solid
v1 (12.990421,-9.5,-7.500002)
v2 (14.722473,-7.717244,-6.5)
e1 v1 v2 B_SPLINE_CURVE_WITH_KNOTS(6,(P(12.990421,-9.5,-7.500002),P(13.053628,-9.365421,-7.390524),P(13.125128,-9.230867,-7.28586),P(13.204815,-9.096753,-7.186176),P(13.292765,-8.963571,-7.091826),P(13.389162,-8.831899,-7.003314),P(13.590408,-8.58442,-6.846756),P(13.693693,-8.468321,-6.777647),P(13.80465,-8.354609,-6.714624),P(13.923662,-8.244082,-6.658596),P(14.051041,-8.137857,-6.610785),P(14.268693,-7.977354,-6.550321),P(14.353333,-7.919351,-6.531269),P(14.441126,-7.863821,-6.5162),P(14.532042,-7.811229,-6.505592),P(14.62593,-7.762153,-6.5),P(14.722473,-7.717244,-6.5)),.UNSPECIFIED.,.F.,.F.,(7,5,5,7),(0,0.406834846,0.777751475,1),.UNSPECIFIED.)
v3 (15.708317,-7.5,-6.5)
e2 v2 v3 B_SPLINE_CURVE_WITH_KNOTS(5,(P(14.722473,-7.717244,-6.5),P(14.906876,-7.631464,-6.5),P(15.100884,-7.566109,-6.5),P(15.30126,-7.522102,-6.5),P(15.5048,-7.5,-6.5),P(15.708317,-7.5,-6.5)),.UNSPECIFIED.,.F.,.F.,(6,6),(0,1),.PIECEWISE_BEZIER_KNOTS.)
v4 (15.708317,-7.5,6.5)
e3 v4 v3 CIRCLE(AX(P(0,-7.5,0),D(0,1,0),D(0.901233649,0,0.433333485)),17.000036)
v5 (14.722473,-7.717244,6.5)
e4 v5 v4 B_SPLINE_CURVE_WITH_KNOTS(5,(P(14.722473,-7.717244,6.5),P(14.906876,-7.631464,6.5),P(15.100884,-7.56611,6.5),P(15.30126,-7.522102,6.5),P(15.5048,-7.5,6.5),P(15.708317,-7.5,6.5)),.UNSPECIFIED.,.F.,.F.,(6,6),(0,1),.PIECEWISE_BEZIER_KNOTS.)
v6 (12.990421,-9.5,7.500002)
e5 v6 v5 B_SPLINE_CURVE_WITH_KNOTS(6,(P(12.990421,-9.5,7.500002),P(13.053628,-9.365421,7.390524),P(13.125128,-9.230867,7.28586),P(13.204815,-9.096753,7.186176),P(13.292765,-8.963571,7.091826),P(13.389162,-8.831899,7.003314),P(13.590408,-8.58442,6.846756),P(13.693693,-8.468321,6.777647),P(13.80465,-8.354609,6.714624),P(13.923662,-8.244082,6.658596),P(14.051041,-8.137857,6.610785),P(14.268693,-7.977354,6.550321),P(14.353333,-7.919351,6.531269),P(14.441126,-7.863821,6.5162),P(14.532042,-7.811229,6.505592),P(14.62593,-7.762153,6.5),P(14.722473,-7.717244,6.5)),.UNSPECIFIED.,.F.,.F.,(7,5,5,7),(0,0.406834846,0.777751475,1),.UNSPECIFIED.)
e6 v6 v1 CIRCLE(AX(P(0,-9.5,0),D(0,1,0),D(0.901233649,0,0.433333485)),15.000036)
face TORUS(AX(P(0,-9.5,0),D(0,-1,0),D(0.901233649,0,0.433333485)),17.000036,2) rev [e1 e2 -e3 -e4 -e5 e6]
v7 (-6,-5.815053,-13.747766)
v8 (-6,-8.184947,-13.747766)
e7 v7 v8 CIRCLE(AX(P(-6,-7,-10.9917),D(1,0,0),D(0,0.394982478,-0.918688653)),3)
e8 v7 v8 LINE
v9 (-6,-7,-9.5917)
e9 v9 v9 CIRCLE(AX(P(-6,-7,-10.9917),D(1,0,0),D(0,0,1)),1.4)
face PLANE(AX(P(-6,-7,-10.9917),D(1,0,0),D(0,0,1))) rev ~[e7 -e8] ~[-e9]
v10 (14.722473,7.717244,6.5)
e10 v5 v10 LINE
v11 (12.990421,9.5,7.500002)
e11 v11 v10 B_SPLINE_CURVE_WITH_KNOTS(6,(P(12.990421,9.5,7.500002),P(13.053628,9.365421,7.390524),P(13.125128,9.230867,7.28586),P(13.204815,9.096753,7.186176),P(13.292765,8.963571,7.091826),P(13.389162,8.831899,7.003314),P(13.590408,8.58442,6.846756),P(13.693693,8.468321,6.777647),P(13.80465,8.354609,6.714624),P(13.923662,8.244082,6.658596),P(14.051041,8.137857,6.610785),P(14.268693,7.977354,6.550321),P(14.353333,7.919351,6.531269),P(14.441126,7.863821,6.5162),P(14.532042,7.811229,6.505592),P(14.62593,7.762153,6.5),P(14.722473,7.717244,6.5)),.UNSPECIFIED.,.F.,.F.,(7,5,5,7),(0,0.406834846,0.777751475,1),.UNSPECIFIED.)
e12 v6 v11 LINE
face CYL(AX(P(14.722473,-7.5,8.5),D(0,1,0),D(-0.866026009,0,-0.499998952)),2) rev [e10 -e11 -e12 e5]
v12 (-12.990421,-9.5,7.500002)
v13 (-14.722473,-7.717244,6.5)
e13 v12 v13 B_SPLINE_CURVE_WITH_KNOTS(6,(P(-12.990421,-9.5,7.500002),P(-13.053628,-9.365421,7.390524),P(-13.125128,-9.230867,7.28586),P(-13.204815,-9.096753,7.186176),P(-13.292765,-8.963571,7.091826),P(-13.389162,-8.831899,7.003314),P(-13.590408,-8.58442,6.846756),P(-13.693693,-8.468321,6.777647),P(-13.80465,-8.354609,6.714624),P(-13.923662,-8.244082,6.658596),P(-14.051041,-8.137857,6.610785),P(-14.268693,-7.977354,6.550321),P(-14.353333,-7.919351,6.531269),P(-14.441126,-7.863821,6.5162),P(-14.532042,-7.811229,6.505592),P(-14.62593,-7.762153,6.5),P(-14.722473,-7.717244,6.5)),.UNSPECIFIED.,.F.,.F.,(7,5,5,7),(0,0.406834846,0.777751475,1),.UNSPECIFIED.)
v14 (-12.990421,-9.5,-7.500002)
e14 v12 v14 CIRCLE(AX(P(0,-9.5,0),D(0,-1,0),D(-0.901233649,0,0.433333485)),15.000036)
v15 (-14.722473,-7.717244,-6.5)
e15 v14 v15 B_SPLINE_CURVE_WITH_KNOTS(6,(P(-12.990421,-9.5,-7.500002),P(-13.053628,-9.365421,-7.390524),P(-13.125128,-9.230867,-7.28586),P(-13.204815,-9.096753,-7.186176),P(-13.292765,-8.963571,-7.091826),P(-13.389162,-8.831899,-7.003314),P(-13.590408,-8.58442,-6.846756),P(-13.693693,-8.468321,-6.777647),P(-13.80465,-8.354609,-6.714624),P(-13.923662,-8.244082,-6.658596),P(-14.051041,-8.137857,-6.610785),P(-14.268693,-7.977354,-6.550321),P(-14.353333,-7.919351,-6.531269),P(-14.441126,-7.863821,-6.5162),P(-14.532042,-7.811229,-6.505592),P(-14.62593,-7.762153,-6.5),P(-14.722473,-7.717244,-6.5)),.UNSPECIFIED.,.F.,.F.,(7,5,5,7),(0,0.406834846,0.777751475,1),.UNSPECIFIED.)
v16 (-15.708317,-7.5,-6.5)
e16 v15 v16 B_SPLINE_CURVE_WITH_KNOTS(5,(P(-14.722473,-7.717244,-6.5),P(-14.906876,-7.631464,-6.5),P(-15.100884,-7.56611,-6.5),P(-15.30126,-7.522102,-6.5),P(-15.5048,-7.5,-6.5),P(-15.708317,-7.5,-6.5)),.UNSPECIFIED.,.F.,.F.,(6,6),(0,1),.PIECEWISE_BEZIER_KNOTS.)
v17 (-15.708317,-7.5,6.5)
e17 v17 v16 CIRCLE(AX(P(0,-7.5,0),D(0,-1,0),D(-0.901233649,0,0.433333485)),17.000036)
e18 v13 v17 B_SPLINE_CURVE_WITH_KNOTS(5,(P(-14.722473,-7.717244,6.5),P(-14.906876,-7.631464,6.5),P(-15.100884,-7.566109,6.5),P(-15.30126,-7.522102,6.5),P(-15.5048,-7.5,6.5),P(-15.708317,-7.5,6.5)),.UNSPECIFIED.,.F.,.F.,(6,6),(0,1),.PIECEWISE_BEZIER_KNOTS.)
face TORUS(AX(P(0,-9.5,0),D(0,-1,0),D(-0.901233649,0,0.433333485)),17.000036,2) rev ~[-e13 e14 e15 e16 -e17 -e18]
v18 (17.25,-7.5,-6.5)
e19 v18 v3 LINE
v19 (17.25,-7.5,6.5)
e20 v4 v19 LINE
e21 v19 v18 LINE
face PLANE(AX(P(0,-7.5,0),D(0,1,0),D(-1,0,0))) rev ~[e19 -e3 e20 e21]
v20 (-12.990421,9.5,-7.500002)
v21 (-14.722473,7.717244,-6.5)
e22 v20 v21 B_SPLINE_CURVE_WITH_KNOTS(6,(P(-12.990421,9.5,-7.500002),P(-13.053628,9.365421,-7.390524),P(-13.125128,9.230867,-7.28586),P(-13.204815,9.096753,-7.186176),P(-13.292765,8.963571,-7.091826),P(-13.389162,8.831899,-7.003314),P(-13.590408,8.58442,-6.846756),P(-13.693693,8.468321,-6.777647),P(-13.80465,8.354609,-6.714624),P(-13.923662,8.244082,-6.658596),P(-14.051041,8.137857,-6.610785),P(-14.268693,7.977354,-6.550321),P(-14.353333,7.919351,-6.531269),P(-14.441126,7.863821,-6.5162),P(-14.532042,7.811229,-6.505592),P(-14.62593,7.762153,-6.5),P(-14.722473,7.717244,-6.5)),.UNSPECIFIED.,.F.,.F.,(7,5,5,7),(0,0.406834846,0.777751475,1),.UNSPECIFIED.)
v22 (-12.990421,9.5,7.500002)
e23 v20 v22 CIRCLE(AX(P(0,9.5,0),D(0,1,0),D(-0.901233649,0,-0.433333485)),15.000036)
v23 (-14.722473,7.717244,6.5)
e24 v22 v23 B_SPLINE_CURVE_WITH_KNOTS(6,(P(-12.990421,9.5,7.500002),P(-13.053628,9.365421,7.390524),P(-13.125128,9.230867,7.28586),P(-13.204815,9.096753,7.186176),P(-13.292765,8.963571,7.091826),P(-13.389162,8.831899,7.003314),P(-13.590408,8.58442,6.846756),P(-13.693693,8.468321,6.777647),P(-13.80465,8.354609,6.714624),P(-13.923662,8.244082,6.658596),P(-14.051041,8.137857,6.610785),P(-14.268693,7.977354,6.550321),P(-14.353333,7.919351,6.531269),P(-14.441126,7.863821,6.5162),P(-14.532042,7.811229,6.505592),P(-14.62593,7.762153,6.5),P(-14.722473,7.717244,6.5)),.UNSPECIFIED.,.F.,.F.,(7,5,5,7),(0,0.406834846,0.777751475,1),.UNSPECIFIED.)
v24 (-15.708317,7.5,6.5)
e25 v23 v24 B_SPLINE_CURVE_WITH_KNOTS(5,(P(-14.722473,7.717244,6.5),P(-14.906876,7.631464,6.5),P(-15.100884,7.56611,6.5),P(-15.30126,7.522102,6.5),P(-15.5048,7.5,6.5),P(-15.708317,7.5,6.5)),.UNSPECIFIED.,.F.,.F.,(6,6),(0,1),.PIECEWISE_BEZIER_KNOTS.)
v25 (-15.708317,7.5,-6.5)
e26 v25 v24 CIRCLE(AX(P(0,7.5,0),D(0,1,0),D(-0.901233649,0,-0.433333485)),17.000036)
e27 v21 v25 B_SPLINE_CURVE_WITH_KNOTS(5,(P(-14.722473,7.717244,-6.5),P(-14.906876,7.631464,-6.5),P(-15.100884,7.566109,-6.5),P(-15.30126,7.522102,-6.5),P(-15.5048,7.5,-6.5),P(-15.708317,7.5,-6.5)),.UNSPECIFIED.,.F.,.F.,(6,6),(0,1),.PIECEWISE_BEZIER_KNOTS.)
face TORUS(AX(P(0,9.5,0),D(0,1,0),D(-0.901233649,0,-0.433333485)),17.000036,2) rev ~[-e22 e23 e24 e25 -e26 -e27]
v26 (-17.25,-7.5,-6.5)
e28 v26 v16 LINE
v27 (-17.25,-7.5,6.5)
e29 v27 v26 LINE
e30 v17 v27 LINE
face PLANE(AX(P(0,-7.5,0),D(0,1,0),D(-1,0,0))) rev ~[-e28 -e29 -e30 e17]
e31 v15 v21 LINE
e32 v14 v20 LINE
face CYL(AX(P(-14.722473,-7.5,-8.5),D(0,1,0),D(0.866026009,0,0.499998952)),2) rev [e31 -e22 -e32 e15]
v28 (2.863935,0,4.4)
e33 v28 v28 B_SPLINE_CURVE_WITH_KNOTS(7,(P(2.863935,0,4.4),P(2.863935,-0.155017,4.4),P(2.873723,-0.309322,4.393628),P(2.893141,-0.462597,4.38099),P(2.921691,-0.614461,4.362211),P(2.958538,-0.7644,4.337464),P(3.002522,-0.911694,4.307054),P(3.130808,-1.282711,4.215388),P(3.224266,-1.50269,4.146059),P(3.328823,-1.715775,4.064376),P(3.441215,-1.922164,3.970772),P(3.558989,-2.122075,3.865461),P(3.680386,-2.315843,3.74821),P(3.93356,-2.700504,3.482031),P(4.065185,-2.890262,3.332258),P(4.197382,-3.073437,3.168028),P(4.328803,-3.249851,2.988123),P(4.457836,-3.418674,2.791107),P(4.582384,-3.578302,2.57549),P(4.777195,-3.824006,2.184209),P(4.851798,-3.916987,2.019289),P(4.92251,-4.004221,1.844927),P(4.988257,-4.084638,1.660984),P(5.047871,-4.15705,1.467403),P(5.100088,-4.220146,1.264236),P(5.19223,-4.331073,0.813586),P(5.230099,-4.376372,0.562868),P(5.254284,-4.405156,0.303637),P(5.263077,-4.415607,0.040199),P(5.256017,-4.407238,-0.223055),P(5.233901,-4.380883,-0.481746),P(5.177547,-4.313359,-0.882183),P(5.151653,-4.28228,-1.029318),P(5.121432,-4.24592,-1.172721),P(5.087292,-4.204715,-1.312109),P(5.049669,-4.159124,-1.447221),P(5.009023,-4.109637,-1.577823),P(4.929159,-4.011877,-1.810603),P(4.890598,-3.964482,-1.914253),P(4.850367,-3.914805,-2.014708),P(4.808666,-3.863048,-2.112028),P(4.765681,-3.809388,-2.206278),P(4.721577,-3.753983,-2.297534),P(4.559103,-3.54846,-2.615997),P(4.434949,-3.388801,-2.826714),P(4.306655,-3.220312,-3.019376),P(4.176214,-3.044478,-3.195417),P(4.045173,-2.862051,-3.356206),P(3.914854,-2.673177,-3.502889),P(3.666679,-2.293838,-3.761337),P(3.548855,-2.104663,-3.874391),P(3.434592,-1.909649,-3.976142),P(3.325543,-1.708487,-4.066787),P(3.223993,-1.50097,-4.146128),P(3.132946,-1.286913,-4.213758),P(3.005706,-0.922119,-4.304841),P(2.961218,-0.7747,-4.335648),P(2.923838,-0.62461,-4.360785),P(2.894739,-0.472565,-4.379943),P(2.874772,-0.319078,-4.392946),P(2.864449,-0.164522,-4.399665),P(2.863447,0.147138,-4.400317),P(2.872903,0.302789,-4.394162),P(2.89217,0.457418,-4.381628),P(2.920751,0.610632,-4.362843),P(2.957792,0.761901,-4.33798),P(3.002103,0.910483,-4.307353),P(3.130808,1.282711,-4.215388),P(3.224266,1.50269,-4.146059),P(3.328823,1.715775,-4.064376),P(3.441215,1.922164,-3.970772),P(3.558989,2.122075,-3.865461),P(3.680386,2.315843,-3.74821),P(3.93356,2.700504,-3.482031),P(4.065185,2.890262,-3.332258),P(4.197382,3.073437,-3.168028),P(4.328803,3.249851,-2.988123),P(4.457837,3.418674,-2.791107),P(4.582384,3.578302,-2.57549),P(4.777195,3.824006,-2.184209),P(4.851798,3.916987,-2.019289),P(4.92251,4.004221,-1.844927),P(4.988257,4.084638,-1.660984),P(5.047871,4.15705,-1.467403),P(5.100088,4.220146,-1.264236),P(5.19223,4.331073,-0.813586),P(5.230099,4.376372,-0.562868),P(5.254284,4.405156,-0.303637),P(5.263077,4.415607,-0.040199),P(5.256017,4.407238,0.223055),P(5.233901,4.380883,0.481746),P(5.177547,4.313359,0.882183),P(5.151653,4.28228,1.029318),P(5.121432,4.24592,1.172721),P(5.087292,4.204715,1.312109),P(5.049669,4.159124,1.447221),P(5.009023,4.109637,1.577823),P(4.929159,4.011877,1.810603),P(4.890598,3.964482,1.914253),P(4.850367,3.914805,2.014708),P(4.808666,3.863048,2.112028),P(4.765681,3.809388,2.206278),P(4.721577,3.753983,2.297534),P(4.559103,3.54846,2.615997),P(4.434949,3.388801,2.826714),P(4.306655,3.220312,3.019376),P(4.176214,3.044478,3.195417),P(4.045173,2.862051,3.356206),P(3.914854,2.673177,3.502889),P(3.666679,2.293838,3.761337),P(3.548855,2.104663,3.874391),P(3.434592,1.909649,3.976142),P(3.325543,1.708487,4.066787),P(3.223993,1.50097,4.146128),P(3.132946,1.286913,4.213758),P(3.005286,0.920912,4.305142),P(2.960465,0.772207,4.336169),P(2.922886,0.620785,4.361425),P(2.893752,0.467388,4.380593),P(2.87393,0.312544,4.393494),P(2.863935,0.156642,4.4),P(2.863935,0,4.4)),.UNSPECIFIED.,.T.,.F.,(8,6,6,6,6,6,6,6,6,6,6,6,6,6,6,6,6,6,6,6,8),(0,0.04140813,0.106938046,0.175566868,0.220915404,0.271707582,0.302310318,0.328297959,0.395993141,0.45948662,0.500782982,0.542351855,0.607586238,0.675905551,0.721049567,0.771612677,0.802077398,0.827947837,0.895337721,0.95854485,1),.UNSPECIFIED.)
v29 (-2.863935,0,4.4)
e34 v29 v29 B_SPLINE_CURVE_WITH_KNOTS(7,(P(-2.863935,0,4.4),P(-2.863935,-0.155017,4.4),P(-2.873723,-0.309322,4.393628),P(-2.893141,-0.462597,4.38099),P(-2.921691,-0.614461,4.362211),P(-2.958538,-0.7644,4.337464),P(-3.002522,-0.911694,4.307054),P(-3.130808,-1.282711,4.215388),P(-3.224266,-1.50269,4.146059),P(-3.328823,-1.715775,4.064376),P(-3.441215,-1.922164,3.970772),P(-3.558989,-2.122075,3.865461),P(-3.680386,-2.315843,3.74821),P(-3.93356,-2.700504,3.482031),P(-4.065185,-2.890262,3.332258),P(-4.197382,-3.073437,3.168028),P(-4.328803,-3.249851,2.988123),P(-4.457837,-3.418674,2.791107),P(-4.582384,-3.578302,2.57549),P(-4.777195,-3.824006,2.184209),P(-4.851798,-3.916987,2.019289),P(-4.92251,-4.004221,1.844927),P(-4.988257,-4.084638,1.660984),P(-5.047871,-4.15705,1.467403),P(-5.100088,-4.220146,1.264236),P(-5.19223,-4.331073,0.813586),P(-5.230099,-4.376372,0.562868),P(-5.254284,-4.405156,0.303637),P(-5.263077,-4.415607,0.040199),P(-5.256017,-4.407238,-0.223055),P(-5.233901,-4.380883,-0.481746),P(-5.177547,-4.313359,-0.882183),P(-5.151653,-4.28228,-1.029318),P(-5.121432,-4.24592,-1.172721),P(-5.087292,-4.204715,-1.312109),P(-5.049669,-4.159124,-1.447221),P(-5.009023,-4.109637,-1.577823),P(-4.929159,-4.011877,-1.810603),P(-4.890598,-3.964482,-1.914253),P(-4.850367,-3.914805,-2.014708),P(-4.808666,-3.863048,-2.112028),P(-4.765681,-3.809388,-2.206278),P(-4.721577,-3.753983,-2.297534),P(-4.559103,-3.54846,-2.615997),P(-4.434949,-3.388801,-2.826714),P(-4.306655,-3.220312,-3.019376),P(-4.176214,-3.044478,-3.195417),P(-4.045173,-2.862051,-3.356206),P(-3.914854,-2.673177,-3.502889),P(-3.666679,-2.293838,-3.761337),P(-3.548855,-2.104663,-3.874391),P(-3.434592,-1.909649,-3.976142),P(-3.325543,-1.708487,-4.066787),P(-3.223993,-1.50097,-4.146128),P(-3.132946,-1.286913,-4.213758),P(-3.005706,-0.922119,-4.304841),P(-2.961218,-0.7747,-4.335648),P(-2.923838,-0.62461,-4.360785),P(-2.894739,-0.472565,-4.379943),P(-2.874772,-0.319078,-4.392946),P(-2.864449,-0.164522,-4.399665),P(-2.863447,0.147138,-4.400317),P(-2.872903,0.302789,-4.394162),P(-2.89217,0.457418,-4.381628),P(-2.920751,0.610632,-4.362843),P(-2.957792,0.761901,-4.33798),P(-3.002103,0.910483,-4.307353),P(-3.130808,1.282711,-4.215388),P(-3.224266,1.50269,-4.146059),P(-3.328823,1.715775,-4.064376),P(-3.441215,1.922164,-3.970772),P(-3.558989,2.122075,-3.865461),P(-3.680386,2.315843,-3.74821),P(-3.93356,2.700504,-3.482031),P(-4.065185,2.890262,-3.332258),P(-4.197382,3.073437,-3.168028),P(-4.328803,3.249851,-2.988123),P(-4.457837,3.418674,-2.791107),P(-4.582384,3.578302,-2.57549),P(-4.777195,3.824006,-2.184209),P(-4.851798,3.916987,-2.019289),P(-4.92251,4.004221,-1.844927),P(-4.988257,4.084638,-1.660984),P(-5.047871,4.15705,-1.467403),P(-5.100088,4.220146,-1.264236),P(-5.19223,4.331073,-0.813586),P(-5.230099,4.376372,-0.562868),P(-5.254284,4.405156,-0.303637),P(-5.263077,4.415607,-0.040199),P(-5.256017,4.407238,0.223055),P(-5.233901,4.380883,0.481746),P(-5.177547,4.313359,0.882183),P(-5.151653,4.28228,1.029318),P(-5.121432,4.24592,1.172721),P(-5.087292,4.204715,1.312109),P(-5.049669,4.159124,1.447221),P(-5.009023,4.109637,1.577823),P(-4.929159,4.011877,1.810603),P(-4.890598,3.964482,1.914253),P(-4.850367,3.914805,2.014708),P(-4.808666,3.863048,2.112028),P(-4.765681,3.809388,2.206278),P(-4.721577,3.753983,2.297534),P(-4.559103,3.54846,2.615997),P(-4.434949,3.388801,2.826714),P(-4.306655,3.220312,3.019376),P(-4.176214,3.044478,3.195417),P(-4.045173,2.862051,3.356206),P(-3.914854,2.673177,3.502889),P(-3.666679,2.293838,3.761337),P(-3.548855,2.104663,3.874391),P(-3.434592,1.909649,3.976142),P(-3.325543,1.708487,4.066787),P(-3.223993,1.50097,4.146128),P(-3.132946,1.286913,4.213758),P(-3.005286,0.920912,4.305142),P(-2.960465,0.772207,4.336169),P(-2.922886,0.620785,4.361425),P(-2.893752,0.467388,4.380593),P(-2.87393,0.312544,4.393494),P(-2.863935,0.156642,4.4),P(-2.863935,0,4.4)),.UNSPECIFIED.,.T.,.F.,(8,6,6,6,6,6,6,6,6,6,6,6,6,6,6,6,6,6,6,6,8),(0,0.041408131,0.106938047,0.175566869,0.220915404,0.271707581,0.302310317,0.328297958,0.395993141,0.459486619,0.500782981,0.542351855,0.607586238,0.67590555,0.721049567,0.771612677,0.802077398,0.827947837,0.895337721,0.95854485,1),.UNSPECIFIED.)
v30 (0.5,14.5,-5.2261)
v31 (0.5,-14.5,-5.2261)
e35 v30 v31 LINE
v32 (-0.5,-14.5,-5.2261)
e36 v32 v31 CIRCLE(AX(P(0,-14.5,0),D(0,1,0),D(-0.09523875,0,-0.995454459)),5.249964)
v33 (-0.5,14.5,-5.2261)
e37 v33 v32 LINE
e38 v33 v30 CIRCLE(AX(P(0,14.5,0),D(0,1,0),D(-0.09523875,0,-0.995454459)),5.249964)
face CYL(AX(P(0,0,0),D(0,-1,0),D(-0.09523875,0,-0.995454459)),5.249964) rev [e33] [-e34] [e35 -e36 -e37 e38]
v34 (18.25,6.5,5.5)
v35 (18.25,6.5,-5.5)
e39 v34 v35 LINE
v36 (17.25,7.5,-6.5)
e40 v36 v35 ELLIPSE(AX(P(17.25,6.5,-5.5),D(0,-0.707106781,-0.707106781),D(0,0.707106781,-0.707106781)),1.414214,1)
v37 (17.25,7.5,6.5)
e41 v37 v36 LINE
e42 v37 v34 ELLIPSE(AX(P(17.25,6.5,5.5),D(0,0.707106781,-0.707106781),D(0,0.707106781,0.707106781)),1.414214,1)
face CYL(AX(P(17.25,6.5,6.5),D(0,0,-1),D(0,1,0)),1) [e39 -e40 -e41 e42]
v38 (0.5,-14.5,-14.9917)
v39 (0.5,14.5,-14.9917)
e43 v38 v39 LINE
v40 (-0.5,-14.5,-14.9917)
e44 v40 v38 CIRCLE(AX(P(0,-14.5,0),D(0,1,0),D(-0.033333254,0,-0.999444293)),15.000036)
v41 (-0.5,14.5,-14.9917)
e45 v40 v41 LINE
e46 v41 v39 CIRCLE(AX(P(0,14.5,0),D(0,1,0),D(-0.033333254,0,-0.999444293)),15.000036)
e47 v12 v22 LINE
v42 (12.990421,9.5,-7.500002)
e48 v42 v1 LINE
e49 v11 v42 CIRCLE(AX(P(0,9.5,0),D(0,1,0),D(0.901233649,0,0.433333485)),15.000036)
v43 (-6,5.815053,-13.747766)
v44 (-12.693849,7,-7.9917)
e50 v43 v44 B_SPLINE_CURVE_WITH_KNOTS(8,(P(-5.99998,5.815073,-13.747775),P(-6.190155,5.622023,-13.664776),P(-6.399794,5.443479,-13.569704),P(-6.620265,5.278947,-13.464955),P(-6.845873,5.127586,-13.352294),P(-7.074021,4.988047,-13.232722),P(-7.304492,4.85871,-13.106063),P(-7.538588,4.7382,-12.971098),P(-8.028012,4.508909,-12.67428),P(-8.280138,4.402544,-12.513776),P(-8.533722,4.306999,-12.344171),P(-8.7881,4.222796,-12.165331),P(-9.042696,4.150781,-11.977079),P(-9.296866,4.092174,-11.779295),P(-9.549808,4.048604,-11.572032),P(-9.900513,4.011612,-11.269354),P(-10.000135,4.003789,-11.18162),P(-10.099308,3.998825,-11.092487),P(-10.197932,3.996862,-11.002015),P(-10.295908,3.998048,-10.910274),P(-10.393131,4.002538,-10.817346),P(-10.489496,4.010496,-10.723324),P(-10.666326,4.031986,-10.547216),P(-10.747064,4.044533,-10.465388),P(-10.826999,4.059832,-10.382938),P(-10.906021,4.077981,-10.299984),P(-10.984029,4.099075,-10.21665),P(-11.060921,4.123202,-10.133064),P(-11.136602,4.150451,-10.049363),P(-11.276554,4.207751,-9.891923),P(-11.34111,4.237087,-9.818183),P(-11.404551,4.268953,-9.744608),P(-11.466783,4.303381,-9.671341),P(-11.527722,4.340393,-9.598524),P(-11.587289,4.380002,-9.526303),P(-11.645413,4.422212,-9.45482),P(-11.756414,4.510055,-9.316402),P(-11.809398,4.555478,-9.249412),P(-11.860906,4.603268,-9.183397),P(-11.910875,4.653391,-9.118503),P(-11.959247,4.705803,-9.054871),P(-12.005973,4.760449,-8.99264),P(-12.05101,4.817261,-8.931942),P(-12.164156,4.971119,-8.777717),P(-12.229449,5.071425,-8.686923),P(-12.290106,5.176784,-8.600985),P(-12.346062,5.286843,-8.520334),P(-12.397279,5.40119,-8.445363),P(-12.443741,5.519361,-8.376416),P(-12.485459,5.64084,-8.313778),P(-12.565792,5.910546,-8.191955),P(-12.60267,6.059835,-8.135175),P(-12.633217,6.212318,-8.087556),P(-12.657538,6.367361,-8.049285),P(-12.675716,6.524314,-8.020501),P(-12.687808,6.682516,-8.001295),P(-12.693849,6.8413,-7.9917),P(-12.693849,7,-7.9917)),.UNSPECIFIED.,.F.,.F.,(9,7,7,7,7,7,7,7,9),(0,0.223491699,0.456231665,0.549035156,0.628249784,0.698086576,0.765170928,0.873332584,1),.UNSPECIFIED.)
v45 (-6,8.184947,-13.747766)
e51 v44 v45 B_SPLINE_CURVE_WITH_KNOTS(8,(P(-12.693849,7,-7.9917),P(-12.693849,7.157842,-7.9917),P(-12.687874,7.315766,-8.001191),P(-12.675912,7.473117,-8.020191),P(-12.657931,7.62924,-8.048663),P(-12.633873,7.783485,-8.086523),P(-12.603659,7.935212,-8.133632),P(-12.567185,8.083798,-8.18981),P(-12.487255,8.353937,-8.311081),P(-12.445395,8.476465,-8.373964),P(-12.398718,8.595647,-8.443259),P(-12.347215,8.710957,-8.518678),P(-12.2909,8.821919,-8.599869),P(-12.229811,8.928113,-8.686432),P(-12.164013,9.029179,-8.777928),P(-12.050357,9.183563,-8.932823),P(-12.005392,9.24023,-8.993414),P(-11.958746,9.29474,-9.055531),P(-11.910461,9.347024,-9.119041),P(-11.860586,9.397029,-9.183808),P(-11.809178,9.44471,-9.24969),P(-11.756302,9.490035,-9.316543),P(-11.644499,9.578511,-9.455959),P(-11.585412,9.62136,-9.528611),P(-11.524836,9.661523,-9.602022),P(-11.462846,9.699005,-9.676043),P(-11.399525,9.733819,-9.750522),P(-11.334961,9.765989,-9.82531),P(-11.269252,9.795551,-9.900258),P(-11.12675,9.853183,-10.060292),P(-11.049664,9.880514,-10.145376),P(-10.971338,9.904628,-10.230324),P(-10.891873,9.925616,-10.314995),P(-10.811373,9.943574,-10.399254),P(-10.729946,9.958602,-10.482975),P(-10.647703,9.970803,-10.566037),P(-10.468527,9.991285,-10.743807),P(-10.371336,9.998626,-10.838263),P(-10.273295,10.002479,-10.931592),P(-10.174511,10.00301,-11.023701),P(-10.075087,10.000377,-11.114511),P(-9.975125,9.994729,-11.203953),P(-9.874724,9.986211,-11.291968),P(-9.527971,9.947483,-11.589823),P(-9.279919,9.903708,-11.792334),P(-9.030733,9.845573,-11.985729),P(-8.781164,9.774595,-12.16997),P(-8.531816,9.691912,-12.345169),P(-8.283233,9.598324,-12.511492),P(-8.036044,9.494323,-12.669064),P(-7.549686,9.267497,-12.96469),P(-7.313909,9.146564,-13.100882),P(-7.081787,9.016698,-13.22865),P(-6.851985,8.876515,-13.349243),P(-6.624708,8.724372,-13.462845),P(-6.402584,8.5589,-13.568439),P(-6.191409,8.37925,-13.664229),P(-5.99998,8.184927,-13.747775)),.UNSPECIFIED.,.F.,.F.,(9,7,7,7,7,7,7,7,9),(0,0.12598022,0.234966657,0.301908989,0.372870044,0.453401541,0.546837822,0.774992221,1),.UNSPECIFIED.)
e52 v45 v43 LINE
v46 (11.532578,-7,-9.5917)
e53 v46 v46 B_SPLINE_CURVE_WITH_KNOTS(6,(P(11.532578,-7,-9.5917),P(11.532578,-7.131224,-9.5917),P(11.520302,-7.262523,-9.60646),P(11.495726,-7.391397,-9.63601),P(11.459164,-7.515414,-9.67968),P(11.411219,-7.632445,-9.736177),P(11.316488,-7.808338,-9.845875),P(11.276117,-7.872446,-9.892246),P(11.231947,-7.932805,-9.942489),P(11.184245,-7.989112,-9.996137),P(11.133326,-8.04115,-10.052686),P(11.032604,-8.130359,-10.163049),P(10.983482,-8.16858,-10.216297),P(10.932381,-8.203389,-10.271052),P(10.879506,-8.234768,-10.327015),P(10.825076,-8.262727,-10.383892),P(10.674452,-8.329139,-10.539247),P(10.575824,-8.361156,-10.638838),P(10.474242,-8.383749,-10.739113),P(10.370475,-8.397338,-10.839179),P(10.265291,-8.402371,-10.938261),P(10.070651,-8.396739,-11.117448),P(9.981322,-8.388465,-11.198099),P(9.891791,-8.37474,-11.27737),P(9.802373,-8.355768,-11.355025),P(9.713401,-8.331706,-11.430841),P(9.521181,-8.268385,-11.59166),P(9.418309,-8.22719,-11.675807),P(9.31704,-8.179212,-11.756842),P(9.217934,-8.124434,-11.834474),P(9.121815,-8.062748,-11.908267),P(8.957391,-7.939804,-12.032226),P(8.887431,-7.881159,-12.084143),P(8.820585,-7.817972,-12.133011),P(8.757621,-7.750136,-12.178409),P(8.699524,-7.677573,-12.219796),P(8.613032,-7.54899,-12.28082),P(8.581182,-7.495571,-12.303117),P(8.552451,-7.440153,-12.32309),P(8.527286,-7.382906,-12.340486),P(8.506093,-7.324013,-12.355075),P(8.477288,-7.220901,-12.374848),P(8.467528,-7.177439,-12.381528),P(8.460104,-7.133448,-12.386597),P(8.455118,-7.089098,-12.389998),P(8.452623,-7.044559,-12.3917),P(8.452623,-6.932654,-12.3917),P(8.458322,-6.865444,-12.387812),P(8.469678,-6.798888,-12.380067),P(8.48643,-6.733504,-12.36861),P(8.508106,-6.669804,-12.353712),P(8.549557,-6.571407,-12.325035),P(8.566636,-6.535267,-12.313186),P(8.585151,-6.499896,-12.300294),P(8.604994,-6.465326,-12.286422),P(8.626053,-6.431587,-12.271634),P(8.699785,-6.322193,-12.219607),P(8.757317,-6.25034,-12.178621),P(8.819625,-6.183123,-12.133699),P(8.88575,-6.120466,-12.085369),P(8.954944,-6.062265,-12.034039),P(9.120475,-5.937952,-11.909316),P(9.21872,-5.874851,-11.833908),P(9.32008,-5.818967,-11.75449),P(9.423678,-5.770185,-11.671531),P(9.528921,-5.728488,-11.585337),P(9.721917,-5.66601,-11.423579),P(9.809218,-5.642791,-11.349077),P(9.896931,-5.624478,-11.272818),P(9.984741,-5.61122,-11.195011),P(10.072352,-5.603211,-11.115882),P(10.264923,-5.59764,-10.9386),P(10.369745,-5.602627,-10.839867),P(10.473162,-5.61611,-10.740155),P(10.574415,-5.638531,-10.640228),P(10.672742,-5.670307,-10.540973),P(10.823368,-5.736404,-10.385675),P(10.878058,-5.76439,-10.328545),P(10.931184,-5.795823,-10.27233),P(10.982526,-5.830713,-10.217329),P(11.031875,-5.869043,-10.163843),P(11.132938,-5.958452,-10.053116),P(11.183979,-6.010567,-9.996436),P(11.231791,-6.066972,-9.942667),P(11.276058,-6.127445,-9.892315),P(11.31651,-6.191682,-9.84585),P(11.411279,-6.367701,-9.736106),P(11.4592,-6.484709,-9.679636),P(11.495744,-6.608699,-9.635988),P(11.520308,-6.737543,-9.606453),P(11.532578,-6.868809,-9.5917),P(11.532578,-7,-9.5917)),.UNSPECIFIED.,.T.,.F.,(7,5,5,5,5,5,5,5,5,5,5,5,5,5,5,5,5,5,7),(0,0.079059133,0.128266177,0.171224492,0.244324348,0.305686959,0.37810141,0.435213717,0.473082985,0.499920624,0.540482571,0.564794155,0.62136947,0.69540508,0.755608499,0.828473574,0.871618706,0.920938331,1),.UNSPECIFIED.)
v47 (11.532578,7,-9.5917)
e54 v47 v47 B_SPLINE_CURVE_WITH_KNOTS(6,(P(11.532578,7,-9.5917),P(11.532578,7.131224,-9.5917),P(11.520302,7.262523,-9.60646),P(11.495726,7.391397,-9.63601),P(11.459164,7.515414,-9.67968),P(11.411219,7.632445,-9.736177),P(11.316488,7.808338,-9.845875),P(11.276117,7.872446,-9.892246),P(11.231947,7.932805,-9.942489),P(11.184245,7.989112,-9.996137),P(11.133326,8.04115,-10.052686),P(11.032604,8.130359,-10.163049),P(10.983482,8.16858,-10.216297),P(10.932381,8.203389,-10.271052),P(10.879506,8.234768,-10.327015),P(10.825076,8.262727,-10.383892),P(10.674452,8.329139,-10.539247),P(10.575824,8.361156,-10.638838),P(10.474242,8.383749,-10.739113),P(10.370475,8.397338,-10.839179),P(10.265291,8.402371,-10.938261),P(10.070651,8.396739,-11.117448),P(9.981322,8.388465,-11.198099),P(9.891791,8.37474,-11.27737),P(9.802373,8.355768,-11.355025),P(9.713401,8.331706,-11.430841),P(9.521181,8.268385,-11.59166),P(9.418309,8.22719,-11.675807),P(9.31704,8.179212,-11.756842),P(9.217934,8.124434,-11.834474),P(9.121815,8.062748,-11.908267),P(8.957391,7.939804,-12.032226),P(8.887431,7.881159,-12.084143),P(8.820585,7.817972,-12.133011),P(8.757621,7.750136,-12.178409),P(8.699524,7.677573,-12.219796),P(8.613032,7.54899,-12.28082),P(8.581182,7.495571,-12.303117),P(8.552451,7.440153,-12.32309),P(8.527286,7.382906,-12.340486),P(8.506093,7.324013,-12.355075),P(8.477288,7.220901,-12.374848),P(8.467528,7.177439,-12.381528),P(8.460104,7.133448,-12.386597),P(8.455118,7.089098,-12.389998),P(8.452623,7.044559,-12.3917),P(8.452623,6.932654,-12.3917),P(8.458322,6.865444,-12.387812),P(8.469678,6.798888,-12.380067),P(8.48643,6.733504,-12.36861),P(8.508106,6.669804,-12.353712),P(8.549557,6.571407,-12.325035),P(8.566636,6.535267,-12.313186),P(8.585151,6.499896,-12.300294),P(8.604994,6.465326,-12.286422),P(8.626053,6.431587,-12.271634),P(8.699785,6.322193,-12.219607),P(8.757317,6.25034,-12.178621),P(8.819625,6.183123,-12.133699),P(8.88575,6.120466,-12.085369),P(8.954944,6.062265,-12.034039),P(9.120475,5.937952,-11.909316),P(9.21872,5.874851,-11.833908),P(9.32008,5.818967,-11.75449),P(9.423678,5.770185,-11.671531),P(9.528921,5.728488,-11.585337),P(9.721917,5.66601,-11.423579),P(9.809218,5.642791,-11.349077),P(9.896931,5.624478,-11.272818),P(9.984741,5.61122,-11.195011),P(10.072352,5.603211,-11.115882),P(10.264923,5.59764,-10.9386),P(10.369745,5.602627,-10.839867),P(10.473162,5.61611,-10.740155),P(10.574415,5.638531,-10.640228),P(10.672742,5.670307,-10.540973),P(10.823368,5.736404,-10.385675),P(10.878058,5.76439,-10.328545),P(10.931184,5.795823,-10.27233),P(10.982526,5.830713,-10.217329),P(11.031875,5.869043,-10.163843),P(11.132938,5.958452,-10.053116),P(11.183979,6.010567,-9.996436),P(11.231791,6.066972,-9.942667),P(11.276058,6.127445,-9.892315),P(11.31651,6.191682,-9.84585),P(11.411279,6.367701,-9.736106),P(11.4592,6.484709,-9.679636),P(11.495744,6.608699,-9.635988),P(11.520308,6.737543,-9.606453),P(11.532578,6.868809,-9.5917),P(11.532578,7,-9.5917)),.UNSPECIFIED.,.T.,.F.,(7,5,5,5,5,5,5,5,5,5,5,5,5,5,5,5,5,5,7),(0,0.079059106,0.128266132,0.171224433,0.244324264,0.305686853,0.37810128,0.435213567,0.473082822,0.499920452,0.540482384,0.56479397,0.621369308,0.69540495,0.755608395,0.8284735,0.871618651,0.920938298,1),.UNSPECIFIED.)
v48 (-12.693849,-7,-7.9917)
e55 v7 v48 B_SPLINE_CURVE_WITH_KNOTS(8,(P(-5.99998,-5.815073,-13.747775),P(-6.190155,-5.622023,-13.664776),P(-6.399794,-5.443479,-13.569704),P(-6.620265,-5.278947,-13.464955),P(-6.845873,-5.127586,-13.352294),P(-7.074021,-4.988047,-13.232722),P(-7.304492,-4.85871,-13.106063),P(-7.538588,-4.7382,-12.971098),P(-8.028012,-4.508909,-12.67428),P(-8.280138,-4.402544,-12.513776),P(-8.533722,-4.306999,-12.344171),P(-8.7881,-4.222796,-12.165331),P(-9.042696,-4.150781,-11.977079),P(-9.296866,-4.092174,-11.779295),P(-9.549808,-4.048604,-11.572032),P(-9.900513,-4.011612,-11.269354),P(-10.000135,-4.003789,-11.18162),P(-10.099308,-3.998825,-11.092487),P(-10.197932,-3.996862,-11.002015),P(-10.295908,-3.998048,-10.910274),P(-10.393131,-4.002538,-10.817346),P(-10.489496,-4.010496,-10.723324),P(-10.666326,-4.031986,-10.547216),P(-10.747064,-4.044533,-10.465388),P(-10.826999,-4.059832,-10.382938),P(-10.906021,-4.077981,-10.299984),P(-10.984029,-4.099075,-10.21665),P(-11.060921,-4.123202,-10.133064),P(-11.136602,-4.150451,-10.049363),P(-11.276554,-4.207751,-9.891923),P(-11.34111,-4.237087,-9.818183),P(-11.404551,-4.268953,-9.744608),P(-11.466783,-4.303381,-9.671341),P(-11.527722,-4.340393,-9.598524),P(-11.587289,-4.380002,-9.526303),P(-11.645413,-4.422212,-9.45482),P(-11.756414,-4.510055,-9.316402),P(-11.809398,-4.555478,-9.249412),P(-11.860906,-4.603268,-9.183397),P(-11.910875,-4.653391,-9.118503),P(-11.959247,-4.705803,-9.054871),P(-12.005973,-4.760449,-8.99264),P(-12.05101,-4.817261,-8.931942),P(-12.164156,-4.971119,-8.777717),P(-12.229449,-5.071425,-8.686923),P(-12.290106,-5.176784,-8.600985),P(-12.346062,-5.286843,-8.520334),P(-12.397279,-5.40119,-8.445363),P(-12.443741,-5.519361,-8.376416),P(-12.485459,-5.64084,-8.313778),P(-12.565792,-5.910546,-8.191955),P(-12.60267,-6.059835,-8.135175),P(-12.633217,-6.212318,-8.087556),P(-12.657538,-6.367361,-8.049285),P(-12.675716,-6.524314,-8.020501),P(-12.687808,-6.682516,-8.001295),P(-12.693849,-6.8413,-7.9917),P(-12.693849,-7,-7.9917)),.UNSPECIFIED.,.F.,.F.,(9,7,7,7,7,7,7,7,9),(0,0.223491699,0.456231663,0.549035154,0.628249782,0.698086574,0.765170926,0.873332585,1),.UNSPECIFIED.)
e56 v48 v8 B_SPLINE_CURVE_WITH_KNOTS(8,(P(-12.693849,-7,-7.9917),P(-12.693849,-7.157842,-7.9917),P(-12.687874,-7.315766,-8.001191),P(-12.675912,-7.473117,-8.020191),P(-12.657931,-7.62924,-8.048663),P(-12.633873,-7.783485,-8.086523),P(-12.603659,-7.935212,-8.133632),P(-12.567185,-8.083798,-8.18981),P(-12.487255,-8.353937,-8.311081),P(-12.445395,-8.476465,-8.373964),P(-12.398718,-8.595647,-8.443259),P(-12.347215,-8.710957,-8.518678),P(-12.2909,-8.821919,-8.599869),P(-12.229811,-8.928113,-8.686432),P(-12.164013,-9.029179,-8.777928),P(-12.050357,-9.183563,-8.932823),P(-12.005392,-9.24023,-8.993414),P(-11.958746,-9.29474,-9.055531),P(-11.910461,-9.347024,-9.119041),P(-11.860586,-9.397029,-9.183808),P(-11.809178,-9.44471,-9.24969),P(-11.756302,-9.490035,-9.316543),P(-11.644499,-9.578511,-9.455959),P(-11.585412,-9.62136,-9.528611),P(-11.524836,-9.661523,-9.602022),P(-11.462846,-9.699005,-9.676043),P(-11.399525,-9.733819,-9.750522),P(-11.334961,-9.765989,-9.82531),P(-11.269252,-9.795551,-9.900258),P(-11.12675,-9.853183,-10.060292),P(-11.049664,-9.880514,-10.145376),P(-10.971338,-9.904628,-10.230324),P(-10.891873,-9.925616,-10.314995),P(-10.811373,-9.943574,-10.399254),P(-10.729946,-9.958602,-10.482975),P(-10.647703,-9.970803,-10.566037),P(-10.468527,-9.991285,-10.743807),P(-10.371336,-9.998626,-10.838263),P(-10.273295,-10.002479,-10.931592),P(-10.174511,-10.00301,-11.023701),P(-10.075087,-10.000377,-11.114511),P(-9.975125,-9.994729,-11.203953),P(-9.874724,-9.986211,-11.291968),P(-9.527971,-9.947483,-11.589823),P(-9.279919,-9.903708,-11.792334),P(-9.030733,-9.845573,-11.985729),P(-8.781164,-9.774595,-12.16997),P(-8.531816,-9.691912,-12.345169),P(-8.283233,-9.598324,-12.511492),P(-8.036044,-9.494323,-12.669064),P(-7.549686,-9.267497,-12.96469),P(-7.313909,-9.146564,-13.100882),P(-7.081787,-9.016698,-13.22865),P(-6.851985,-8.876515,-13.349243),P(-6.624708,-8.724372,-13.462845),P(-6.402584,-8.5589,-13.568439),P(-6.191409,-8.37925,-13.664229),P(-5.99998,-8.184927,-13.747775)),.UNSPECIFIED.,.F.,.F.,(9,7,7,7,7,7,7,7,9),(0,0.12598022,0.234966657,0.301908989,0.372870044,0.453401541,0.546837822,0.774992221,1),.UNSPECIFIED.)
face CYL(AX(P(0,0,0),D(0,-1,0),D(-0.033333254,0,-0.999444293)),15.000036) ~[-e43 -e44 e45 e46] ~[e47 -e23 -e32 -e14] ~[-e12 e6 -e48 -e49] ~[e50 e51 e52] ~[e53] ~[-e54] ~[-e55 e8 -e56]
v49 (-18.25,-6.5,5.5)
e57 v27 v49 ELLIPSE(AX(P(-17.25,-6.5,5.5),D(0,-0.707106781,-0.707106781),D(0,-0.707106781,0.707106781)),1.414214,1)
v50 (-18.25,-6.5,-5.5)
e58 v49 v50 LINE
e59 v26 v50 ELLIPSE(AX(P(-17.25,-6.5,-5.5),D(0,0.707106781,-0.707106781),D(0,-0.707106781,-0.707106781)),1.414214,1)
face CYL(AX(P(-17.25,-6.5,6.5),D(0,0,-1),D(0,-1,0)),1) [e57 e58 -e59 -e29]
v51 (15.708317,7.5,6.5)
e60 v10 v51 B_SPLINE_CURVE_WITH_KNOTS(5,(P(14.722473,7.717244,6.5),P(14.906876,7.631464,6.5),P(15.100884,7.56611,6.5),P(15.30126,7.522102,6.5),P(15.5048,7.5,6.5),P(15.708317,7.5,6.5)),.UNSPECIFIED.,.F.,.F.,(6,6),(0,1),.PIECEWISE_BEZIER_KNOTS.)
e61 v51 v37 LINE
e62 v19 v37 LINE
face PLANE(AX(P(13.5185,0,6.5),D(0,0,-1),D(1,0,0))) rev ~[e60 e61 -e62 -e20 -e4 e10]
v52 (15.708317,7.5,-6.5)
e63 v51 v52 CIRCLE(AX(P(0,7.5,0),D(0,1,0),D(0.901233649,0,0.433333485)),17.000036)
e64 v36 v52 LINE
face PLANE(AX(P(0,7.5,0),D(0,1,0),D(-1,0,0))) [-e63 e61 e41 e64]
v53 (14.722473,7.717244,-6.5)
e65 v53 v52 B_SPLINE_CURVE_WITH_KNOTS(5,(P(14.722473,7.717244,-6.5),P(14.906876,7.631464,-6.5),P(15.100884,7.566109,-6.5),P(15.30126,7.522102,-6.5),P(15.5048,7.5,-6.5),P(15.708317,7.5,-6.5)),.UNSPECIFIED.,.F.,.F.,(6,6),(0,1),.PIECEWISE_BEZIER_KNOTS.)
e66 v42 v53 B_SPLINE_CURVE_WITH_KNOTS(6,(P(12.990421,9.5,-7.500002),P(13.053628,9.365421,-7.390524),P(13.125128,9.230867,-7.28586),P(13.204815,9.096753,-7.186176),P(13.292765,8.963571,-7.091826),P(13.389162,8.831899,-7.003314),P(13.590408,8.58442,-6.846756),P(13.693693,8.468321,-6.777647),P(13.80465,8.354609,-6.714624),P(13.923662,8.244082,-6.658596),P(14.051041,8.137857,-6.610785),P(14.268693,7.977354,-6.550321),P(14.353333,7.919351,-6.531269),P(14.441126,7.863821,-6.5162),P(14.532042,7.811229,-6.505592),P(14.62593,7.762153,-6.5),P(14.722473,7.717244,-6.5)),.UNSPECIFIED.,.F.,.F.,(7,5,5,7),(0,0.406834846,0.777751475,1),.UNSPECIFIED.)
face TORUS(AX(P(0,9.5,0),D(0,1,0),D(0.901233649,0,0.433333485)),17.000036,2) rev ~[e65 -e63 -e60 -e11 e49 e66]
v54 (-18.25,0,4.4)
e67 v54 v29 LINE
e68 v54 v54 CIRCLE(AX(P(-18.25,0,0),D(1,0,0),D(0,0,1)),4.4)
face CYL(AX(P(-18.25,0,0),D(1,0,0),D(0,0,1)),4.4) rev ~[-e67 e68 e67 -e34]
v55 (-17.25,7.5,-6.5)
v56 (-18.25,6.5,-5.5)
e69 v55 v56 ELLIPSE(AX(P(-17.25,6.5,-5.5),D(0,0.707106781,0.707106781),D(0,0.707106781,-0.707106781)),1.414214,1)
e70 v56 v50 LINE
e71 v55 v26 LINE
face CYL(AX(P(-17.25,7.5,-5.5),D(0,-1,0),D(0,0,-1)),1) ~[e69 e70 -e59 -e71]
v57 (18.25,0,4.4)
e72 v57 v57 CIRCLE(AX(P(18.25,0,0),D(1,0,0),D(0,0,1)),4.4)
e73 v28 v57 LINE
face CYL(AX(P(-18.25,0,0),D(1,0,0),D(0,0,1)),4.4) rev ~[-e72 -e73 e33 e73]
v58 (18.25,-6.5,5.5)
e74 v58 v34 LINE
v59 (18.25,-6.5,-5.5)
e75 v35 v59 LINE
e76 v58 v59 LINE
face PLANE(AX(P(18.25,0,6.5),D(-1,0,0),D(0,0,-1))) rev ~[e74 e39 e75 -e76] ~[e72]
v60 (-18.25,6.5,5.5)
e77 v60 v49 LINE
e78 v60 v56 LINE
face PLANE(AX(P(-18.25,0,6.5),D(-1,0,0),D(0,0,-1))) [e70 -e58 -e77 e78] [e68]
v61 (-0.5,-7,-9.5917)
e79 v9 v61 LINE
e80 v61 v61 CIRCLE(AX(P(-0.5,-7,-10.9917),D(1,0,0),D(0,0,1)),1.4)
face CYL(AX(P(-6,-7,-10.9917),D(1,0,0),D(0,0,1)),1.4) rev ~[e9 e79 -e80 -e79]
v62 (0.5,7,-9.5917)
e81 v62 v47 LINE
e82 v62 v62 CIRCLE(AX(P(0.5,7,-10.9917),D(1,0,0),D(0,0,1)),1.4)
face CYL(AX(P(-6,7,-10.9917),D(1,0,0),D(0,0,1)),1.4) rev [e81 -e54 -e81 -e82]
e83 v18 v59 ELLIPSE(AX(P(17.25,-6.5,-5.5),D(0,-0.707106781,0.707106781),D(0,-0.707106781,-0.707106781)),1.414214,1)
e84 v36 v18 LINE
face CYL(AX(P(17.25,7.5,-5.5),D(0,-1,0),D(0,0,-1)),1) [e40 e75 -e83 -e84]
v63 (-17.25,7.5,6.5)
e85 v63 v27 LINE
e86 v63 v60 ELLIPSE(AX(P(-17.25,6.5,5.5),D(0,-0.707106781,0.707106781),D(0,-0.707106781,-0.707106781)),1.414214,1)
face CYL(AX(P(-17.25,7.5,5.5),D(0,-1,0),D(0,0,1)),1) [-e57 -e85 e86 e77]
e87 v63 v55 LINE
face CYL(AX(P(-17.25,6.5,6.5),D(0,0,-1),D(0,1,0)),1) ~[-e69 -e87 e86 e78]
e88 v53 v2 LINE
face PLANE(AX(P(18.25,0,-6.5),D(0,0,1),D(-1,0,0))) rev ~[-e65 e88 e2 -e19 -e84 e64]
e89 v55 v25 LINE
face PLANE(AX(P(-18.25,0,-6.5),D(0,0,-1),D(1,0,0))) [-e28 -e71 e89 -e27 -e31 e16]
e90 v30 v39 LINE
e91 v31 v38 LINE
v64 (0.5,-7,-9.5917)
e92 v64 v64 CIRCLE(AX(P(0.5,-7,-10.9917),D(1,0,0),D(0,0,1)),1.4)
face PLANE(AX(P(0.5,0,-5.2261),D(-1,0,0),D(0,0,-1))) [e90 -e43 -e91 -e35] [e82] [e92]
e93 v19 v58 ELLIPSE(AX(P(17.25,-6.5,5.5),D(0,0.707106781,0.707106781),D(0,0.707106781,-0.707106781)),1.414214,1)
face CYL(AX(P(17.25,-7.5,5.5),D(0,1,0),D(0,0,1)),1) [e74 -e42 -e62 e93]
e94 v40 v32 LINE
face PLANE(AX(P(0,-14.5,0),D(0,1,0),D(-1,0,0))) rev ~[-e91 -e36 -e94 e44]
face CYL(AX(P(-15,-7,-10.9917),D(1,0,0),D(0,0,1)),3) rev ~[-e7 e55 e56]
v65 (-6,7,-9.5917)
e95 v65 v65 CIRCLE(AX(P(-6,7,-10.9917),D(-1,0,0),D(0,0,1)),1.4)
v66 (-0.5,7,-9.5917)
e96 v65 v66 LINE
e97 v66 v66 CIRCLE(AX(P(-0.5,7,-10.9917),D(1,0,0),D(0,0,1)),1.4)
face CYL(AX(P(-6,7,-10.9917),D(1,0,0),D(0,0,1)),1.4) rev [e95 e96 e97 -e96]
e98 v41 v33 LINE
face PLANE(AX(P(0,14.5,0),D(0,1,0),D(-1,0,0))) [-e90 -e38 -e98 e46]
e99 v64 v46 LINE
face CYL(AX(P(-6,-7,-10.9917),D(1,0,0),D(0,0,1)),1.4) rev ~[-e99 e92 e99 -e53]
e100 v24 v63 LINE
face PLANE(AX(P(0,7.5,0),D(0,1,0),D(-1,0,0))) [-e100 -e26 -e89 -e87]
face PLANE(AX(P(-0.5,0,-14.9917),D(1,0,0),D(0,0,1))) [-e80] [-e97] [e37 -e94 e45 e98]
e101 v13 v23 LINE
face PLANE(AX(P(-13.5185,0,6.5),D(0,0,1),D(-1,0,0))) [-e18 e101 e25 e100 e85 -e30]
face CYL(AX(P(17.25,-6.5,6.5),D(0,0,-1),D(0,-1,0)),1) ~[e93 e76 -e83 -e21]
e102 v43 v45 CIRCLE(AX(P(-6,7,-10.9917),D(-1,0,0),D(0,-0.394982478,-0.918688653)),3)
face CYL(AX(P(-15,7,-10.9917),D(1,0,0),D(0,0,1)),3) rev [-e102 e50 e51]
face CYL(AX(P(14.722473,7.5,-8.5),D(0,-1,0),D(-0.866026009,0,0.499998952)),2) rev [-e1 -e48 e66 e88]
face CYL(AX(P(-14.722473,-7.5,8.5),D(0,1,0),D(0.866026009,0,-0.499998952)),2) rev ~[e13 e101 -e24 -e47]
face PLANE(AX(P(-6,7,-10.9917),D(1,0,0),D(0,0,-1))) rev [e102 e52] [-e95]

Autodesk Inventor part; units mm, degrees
ref_plane "YZ Plane" through (0, 0, 0) normal (1, 0, 0) x (0, 1, 0)
ref_plane "XZ Plane" through (0, 0, 0) normal (0, 1, 0) x (-1, 0, 0)
sketch "Sketch1" plane through (0, 0, 0) normal (0, 1, 0) x (-1, 0, 0)
  arc A0 (0.5, -14.9917) -> (-0.5, -14.9917) centre (0, 0) ccw
  arc A1 (0.5, -5.2261) -> (-0.5, -5.2261) centre (0, 0) ccw
  line L0 (-0.5, -5.2261) -> (-0.5, -14.9917)
  line L1 (0.5, -14.9917) -> (0.5, -5.2261)
  line L2 (0, 0) -> (0, -14.3069)
  dimension "d0" = 30
  dimension "d1" = 10.5
  dimension "d2" = 1
extrude "Extrusion1" add sketch "Sketch1" along normal mid plane 29
ref_plane "Work Plane2" through (-15, 0, 0) normal (1, 0, 0) x (0, 0, -1)
sketch "Sketch3" plane through (-15, 0, 0) normal (1, 0, 0) x (0, 0, -1)
  line L0 (14.9917, -14.5) -> (5.2261, -14.5) projected
  line L1 (14.9917, 14.5) -> (14.9917, -14.5) projected
  point P0 (0, 0)
  point P1 (10.9917, -7)
  dimension "d6" = 7.5
  dimension "d7" = 4
hole "Hole1" at (-15, -7, -10.9917) direction (1, 0, 0) diameter 2.8 end through all counterbore diameter 6 counterbore depth 9
mirror "Mirror1" about plane through (0, 0, 0) normal (0, 1, 0) of "Hole1"
sketch "Sketch5" plane through (0, 0, 0) normal (0, 1, 0) x (-1, 0, 0)
  arc A0 (0.5, -14.9917) -> (-0.5, -14.9917) centre (0, 0) ccw projected
  line L0 (13.5185, 6.5) -> (18.25, 6.5)
  line L1 (18.25, 6.5) -> (18.25, -6.5)
  line L2 (18.25, -6.5) -> (13.5185, -6.5)
  line L3 (0, 0) -> (15.3886, 0)
  line L4 (0, 0) -> (0, -14.2024)
  arc A1 (13.5185, -6.5) -> (13.5185, 6.5) centre (0, 0) ccw
  line L5 (-13.5185, 6.5) -> (-18.25, 6.5)
  line L6 (-18.25, 6.5) -> (-18.25, -6.5)
  line L7 (-18.25, -6.5) -> (-13.5185, -6.5)
  arc A2 (-13.5185, 6.5) -> (-13.5185, -6.5) centre (0, 0) ccw
  arc A3 (0.5, -5.2261) -> (-0.5, -5.2261) centre (0, 0) ccw construction
  line L8 (5.25, 0) -> (5.25, -22.9648) construction
  point P0 (-15.3886, 0)
  dimension "d23" = 13
  dimension "d36" = 13
extrude "Extrusion2" add sketch "Sketch5" along normal mid plane 15
sketch "Sketch6" plane through (-18.25, -7.5, 6.5) normal (-1, 0, 0) x (0, 0, 1)
  point P0 (-6.5, 7.5)
  point P1 (-6.5, 7.5)
hole "Hole3" at (-18.25, 0, 0) direction (1, 0, 0) diameter 8.8 end through all
fillet "Fillet1" radius 2 8 edges at (-13.5185, 0, -6.5) (-15, 7.5, 0) (-13.5185, 0, 6.5) (-15, -7.5, 0) (13.5185, 0, 6.5) (15, -7.5, 0) (13.5185, 0, -6.5) (15, 7.5, 0)
fillet "Fillet2" radius 1 8 edges at (18.25, 0, 6.5) (18.25, 7.5, 0) (18.25, 0, -6.5) (18.25, -7.5, 0) (-18.25, 0, 6.5) (-18.25, 7.5, 0) (-18.25, 0, -6.5) (-18.25, -7.5, 0)
properties part number "Space" material "ABS Plastic"
